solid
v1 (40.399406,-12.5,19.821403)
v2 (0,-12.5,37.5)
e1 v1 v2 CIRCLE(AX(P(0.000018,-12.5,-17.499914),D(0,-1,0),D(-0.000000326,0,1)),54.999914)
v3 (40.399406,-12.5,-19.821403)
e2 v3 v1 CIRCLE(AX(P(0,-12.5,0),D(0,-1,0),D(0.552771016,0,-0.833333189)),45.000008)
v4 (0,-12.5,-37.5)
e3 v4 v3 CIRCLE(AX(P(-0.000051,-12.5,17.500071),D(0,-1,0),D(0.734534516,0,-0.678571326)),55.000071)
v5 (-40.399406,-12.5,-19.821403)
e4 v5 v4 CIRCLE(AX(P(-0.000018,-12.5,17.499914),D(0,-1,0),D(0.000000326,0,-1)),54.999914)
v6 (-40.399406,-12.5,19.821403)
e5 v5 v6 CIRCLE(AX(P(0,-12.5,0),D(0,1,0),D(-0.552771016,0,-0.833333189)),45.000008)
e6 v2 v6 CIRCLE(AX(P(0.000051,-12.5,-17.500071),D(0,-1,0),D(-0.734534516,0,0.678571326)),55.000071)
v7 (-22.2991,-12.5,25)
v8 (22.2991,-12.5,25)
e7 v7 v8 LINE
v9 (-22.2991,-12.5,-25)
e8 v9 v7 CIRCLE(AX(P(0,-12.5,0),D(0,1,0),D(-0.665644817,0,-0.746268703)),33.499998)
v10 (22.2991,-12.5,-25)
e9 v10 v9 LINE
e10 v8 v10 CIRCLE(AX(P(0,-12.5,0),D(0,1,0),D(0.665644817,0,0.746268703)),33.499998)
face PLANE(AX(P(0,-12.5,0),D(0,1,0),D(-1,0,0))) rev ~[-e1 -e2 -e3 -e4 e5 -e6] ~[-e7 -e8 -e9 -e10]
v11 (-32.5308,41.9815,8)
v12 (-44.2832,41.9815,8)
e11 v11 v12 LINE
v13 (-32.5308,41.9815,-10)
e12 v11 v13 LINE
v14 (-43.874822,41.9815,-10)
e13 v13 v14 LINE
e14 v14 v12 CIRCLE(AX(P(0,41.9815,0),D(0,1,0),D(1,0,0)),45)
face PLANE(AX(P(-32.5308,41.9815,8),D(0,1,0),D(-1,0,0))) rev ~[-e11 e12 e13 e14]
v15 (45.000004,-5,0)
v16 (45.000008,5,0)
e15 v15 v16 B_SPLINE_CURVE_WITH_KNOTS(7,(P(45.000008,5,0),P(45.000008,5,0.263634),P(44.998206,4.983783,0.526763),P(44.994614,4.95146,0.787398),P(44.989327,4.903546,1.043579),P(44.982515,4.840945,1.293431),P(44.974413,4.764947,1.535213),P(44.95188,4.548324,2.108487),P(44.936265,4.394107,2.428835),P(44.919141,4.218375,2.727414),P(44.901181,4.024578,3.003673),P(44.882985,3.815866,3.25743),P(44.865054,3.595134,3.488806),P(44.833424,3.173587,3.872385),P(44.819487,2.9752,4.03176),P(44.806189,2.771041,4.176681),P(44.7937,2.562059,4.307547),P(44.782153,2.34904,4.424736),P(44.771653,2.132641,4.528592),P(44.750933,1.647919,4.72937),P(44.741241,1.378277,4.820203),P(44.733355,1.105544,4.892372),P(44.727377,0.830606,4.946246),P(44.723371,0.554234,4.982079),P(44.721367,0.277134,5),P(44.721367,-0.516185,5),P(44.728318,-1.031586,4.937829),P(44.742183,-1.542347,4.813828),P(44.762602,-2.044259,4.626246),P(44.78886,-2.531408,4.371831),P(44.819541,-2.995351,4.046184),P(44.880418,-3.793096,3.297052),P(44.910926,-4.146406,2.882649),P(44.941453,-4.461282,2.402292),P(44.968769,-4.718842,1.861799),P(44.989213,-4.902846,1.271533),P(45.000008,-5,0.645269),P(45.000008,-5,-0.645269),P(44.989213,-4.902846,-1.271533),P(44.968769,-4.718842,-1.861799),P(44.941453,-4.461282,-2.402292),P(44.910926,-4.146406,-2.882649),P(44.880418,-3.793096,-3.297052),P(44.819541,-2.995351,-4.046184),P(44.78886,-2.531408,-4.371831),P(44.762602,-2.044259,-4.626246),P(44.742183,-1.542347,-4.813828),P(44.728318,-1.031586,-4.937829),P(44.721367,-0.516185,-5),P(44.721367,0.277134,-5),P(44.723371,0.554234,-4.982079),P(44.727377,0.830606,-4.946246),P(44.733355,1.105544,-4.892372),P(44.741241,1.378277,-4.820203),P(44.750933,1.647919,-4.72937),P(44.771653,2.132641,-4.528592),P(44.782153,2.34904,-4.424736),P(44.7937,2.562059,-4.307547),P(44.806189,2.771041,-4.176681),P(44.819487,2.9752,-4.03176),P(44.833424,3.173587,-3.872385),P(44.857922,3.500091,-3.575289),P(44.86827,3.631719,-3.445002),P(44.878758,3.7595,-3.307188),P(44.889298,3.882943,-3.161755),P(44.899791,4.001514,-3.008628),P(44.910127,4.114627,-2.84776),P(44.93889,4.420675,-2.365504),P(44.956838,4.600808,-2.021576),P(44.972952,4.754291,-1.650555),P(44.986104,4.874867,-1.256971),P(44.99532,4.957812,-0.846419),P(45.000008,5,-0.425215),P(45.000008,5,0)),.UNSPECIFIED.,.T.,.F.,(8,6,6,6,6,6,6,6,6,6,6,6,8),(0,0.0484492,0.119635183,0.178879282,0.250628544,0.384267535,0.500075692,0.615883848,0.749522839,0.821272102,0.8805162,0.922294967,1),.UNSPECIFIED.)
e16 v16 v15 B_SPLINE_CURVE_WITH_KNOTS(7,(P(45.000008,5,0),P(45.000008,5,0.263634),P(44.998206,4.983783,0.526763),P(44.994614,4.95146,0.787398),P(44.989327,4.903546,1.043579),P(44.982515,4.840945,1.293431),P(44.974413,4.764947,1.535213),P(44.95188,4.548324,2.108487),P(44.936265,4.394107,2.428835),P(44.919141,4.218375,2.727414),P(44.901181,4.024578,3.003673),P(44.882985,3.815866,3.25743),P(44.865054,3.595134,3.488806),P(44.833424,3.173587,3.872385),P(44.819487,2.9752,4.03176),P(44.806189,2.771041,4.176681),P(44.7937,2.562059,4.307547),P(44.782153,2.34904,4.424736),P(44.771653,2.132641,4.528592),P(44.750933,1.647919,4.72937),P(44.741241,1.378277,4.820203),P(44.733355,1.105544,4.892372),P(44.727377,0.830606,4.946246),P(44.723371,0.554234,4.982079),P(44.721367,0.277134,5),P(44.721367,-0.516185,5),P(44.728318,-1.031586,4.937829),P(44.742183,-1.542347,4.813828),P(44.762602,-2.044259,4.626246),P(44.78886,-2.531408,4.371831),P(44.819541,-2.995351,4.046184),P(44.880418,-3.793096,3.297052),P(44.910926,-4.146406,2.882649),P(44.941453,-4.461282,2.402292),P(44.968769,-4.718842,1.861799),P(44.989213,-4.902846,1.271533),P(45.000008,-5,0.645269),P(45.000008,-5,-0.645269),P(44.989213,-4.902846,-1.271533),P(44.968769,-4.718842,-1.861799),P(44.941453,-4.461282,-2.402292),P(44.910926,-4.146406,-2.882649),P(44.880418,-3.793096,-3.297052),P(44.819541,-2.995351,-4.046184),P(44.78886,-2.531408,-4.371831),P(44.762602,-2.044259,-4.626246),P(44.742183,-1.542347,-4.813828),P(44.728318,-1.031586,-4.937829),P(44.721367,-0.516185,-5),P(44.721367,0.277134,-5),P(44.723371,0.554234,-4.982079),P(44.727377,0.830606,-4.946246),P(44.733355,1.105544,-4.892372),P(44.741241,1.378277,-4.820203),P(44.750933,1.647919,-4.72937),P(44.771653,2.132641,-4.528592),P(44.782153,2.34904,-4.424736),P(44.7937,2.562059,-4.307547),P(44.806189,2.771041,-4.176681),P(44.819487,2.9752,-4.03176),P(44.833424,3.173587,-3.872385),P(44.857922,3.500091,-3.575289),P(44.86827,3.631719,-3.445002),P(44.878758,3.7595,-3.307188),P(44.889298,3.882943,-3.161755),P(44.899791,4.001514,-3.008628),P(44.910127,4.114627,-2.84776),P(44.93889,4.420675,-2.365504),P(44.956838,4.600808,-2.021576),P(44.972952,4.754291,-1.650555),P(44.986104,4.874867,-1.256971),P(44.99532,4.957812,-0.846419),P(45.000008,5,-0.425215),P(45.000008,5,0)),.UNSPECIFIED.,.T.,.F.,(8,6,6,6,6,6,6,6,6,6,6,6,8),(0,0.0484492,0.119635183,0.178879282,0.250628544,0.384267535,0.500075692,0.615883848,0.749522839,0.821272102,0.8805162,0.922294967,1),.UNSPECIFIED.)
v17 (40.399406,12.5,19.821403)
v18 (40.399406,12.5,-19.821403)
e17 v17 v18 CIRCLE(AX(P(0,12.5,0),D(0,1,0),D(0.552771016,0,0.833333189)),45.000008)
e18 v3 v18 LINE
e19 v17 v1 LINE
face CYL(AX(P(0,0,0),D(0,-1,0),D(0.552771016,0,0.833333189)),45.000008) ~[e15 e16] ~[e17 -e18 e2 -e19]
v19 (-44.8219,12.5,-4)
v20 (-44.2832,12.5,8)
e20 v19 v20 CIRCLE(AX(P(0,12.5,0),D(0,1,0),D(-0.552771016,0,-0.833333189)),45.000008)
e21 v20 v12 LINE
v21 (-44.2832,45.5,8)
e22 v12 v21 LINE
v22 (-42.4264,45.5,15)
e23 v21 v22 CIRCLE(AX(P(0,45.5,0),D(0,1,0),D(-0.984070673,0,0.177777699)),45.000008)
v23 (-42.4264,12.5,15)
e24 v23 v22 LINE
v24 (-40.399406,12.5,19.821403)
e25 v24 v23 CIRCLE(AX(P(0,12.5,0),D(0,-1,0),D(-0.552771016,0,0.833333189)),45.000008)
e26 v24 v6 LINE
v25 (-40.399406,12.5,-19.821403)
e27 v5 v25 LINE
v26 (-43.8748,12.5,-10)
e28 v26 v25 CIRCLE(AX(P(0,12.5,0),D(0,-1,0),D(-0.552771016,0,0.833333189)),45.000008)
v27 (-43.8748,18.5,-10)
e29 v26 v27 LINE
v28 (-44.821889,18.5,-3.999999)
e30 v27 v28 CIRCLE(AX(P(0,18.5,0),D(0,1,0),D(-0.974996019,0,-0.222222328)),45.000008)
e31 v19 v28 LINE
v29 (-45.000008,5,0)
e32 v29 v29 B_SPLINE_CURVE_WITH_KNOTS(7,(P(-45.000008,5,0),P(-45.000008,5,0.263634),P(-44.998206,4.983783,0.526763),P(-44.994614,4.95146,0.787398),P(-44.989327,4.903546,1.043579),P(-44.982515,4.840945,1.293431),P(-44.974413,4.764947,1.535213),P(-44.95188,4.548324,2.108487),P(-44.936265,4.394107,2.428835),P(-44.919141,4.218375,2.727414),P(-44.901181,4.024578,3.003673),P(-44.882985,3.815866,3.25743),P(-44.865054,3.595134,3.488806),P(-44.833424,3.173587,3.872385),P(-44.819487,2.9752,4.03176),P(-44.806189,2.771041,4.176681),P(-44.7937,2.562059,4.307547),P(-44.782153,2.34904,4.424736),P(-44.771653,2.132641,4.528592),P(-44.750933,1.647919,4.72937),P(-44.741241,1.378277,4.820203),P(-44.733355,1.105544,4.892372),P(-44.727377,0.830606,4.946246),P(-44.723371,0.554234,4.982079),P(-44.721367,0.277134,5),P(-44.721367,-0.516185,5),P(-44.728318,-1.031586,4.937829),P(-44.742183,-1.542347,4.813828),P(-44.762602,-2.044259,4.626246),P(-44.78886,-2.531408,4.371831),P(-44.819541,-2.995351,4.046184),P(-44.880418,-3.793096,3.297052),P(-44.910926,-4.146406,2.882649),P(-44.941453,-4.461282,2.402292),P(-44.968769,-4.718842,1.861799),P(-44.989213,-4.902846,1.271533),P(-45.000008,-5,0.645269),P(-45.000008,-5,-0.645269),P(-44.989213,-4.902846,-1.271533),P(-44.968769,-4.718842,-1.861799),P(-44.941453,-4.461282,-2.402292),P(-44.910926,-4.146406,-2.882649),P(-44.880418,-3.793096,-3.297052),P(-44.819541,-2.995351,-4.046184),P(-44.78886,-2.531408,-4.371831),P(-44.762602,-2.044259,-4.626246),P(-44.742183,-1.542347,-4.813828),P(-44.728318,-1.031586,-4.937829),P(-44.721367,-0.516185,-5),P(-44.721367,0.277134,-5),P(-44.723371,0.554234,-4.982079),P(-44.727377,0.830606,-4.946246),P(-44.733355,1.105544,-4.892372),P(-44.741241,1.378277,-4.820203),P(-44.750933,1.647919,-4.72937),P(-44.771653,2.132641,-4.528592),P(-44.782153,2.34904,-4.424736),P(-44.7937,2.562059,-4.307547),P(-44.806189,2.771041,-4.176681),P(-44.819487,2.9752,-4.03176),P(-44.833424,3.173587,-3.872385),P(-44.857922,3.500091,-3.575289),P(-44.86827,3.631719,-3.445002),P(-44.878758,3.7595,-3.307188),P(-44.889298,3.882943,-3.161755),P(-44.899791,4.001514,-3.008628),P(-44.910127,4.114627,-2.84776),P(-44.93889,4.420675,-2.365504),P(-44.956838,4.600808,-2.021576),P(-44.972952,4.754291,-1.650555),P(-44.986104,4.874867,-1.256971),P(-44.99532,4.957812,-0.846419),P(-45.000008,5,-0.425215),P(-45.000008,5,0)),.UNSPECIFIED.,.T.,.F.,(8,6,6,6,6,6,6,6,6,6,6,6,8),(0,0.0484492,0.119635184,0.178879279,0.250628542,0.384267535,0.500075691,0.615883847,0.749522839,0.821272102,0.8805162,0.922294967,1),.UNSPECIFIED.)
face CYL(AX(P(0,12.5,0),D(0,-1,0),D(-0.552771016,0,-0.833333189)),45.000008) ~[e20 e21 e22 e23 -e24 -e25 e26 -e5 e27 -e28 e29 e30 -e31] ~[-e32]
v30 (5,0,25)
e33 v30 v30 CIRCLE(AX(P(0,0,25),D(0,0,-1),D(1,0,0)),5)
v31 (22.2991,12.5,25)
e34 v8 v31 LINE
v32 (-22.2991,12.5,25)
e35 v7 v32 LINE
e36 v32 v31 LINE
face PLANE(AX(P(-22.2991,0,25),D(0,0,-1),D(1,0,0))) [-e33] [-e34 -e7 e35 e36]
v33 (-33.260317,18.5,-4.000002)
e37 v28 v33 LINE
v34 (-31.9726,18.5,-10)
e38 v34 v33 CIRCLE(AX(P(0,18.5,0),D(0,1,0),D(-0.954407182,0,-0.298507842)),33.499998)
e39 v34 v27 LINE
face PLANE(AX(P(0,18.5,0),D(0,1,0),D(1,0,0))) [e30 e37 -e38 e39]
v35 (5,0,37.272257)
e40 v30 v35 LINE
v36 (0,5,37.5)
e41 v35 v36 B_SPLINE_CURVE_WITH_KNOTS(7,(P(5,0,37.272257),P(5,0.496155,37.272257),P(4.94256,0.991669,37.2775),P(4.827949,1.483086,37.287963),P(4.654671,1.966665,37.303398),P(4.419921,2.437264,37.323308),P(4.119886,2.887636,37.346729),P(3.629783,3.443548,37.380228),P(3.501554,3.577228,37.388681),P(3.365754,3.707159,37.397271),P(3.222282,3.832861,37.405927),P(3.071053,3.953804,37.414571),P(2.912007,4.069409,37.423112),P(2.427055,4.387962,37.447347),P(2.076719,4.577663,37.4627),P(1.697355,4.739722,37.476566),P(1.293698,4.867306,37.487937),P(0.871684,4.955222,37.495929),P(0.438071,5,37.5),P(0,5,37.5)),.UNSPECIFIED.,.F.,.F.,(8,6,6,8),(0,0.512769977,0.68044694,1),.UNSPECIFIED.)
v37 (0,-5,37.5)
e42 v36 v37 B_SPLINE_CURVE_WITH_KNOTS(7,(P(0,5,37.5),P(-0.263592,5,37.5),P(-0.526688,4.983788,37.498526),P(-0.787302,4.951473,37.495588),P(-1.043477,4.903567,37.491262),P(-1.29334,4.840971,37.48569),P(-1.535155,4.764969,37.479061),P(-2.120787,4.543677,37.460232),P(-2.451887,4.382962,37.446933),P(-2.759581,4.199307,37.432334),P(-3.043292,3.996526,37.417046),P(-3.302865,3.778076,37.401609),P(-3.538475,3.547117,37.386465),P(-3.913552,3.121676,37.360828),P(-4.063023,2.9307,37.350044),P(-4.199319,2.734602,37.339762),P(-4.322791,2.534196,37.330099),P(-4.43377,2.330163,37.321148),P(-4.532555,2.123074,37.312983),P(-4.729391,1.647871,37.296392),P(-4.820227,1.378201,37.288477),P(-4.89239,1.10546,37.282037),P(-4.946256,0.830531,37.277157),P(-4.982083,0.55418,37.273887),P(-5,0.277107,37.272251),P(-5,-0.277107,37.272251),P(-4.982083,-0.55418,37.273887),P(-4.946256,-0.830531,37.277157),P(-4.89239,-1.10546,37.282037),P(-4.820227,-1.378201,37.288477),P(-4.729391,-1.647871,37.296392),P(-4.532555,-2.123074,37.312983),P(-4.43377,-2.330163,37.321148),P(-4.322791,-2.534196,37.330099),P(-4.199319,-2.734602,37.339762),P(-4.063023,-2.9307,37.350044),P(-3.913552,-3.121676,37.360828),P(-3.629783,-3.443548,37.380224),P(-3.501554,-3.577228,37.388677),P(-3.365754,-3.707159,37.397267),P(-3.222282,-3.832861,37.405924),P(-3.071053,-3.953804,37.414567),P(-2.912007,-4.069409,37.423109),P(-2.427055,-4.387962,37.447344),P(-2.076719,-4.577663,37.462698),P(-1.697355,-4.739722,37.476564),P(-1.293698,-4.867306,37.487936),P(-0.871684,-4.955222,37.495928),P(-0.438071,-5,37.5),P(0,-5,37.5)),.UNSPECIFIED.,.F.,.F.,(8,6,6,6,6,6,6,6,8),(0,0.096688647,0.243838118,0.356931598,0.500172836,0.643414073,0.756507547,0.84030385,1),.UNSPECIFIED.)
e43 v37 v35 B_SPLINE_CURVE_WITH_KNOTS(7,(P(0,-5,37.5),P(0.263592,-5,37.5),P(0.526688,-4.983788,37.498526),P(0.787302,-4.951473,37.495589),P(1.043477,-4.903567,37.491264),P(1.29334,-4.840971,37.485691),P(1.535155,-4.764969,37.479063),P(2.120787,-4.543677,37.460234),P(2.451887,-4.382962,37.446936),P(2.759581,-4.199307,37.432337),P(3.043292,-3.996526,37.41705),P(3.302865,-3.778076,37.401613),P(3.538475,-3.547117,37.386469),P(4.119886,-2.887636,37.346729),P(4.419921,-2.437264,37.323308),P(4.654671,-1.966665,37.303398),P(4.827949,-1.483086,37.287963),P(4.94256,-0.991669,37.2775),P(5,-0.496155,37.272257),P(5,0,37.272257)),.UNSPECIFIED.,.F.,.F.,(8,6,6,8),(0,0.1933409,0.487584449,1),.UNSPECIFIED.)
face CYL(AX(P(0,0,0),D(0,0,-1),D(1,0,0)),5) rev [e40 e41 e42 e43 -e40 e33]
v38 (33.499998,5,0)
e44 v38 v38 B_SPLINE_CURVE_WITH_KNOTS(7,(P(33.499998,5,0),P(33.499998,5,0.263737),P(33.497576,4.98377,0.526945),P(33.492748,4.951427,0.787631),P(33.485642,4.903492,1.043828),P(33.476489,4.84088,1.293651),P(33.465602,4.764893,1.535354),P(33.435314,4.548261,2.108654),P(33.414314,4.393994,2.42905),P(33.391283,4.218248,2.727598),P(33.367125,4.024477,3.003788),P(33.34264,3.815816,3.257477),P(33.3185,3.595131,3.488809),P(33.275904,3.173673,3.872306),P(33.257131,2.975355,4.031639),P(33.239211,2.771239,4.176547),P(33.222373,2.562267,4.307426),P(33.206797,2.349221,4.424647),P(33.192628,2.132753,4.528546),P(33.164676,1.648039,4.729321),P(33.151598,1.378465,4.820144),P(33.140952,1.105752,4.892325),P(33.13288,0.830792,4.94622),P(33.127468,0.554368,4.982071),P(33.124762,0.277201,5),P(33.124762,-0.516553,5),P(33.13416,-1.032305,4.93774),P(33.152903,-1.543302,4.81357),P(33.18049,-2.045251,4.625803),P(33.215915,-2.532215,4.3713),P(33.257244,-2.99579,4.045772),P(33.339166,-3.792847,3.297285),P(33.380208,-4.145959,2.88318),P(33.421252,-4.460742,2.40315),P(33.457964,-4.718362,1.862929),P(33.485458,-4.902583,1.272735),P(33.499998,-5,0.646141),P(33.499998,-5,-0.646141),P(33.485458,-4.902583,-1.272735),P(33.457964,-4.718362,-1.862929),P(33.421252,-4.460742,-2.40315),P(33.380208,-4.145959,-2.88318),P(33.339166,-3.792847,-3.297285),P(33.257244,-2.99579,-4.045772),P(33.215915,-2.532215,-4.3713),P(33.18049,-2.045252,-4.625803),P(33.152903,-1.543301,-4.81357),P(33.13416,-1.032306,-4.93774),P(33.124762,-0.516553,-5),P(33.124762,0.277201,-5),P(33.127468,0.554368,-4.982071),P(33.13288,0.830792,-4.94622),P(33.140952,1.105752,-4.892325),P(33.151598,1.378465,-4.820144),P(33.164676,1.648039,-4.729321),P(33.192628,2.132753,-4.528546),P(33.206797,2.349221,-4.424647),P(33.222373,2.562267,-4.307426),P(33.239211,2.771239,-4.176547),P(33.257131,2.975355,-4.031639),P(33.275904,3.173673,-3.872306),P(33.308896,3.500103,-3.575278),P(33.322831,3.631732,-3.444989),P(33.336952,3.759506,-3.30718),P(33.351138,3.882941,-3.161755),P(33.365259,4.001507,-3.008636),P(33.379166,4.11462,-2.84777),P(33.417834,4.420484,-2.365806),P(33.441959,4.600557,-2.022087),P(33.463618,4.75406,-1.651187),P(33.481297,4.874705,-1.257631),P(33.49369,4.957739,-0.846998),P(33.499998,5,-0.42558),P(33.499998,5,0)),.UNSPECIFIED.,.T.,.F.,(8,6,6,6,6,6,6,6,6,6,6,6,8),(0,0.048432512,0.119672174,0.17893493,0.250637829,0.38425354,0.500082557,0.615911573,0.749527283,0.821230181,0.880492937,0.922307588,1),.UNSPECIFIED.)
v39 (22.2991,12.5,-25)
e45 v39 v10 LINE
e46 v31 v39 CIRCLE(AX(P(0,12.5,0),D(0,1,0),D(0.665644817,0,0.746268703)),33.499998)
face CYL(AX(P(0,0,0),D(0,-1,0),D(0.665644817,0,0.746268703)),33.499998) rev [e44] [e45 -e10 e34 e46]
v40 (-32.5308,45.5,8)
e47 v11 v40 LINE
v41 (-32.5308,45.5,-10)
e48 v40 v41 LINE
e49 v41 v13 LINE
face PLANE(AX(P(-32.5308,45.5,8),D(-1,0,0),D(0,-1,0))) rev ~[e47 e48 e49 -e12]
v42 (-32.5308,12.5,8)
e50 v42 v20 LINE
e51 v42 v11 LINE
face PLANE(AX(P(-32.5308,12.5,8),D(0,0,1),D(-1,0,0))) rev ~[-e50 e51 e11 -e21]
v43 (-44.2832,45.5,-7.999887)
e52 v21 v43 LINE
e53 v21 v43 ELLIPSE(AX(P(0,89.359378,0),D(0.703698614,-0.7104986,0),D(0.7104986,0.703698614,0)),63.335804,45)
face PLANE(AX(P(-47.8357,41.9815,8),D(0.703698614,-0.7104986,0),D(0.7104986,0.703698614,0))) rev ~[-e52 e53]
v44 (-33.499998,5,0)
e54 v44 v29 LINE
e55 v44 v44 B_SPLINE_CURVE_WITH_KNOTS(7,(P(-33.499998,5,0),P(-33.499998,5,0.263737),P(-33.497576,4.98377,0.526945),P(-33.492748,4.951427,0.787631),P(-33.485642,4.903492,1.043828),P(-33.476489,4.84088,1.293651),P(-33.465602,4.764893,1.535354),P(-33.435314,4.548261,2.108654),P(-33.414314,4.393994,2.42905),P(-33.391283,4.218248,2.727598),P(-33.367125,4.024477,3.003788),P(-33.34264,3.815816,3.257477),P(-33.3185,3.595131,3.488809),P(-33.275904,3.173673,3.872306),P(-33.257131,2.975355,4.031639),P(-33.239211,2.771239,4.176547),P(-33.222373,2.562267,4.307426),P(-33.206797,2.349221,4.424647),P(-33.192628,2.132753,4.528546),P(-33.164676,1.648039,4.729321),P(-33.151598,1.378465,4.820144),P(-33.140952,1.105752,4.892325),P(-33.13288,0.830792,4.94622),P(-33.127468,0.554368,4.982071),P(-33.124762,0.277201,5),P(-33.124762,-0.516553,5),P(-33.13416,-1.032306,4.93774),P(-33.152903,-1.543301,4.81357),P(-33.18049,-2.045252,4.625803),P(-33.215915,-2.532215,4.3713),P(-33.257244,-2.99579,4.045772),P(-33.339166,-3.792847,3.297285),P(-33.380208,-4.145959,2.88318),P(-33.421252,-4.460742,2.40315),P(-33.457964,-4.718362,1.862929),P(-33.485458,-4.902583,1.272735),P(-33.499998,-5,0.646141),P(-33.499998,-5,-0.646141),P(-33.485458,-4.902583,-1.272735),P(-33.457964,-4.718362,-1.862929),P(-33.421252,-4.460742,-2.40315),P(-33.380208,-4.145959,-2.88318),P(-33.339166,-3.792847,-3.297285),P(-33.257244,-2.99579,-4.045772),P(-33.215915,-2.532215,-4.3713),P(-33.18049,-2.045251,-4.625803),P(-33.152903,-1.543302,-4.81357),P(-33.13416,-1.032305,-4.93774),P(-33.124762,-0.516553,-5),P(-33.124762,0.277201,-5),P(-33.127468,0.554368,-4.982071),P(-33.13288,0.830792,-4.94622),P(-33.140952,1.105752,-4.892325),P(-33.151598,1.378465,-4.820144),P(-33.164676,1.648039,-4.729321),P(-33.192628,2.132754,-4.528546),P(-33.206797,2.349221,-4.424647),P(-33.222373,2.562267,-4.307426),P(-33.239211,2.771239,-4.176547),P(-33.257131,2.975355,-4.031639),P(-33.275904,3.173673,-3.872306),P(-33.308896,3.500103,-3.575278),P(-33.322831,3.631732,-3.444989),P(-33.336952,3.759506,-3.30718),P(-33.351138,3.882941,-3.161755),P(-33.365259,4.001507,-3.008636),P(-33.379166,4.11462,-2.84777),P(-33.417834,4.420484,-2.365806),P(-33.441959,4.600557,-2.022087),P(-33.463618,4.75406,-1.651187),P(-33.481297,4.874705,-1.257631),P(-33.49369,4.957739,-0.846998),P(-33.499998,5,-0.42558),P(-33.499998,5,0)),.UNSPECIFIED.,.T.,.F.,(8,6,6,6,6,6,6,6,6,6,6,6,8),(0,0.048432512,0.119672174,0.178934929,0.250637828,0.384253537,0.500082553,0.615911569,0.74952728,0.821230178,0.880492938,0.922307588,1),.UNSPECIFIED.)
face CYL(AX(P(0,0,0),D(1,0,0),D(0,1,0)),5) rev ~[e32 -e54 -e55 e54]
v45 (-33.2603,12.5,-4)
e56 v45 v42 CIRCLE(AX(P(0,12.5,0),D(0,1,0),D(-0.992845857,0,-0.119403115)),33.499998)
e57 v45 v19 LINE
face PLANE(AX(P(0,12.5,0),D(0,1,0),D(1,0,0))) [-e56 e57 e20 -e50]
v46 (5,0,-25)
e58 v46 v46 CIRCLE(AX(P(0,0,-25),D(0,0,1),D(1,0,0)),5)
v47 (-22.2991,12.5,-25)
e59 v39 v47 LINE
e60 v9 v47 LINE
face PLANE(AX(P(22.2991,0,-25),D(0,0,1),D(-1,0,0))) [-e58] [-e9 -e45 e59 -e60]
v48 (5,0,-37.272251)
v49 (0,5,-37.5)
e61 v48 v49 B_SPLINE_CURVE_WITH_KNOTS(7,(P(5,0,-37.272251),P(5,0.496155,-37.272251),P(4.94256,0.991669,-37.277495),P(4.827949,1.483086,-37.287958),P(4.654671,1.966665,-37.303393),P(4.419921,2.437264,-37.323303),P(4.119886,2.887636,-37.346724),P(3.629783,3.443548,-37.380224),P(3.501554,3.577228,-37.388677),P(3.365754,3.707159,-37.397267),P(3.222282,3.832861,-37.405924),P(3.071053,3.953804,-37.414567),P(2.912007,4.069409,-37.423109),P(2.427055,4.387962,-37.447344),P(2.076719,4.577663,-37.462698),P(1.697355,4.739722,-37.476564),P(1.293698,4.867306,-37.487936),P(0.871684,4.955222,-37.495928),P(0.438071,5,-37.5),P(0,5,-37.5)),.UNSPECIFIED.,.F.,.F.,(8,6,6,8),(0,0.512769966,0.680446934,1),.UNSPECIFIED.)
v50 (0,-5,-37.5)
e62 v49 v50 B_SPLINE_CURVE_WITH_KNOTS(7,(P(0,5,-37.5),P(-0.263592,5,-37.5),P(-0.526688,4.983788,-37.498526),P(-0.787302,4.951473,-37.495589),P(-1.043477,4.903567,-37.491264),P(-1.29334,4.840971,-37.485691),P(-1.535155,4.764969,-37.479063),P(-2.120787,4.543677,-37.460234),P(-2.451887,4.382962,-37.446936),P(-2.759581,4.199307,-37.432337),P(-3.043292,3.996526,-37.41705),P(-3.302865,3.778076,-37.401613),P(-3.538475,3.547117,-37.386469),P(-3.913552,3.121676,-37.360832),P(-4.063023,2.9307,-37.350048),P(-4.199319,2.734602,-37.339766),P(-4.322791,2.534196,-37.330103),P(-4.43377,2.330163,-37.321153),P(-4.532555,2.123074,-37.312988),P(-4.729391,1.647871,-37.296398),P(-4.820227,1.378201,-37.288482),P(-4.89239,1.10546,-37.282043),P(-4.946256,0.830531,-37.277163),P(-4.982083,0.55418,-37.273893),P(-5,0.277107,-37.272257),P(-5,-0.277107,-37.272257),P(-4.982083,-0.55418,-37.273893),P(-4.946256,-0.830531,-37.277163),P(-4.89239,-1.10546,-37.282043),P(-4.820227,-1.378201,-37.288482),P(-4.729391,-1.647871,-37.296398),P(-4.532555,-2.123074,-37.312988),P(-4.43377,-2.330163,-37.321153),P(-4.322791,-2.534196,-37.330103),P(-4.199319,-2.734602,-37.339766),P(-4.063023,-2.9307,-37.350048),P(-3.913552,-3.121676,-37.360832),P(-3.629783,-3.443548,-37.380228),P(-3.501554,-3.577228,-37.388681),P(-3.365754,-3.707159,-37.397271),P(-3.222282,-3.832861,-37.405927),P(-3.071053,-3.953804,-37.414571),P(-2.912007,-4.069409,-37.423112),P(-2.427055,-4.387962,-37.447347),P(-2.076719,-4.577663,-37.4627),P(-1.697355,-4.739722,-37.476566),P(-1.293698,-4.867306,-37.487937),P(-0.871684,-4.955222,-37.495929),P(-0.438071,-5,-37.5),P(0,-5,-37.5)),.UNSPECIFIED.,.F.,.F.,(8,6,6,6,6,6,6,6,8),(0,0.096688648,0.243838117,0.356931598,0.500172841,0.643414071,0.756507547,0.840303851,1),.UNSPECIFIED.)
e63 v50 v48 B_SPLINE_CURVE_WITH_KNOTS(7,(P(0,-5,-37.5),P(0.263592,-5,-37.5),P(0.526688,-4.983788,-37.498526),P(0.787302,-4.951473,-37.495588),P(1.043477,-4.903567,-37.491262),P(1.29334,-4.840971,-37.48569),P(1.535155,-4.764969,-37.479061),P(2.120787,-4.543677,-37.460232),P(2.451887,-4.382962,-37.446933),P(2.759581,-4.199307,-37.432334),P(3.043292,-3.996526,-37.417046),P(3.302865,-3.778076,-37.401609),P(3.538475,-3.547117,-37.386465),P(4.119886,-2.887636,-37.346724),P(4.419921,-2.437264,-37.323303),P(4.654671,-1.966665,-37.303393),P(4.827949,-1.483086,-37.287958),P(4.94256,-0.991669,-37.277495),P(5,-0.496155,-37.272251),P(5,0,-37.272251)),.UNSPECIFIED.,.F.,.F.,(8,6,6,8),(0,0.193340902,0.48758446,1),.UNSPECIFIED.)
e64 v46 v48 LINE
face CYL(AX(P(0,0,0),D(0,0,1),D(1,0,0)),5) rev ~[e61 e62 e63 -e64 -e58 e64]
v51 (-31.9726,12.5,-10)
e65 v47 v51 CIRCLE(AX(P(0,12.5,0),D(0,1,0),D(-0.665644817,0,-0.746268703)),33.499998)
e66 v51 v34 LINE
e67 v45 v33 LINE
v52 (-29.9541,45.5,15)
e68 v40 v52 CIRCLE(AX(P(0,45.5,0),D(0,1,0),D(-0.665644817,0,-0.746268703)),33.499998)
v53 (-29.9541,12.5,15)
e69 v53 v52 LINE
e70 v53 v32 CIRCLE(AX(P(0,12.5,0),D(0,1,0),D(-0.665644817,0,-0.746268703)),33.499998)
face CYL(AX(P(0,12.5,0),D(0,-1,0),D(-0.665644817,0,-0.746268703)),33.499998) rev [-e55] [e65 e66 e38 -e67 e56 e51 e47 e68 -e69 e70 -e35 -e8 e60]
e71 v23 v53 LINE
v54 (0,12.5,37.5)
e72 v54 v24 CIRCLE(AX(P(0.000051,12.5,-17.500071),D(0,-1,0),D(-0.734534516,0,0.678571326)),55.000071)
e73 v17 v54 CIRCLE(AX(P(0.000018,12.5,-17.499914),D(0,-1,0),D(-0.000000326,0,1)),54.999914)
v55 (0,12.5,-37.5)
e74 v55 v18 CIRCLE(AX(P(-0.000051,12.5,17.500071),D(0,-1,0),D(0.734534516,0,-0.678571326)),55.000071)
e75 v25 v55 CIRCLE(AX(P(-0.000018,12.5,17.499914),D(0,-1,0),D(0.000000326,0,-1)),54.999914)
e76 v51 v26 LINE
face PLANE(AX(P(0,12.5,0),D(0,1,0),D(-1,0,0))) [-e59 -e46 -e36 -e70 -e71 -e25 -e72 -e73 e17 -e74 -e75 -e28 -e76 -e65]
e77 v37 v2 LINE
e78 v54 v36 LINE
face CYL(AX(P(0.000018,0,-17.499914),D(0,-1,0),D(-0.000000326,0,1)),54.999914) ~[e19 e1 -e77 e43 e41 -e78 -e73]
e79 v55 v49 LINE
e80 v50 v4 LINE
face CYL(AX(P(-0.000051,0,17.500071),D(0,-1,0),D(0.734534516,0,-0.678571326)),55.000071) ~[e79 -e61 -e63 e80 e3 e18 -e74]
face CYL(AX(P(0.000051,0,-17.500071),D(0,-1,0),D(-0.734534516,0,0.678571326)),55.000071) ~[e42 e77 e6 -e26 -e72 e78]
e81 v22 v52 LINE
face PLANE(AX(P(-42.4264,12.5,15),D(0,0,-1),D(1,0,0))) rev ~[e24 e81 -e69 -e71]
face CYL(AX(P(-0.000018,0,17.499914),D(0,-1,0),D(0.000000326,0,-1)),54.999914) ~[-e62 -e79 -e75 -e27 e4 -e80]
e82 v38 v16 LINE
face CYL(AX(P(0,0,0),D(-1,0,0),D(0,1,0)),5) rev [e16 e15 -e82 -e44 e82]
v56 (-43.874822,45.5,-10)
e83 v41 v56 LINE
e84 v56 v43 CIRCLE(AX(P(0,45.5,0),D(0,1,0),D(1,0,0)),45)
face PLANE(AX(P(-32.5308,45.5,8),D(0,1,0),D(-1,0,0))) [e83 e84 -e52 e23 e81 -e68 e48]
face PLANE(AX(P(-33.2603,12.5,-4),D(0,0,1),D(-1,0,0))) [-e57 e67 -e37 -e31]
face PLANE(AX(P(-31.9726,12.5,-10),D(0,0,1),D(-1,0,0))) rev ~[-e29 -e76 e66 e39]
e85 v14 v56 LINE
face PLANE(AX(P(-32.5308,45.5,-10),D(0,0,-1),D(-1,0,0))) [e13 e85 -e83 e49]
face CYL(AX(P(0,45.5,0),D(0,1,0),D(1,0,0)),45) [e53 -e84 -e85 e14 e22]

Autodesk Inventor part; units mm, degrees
ref_plane "YZ Plane" through (0, 0, 0) normal (1, 0, 0) x (0, 1, 0)
ref_plane "XZ Plane" through (0, 0, 0) normal (0, 1, 0) x (-1, 0, 0)
ref_plane "XY Plane" through (0, 0, 0) normal (0, 0, 1) x (1, 0, 0)
sketch "Sketch1" plane through (0, 0, 0) normal (0, 1, 0) x (-1, 0, 0)
  line L0 (-22.2991, -25) -> (22.2991, -25)
  line L1 (22.2991, 25) -> (-22.2991, 25)
  arc A0 (-22.2991, 25) -> (-22.2991, -25) centre (0, 0) ccw
  arc A1 (22.2991, -25) -> (22.2991, 25) centre (0, 0) ccw
  line L2 (24.8747, 37.5) -> (-24.8747, 37.5)
  line L3 (24.8747, -37.5) -> (-24.8747, -37.5)
  arc A2 (24.8747, -37.5) -> (24.8747, 37.5) centre (0, 0) ccw
  arc A3 (-24.8747, 37.5) -> (-24.8747, -37.5) centre (0, 0) ccw
  circle A4 centre (0, 0) radius 25 construction
  arc A5 (0, 37.5) -> (-40.3994, 19.8214) centre (0, -17.5) ccw
  arc A6 (40.3994, 19.8214) -> (0, 37.5) centre (0, -17.5) ccw
  arc A7 (-40.3994, -19.8214) -> (0, -37.5) centre (0, 17.5) ccw
  arc A8 (0, -37.5) -> (40.3994, -19.8214) centre (0, 17.5) ccw
  point P0 (-40.0764, 20.168)
  point P1 (-40.0764, -20.168)
  point P2 (40.0764, 20.168)
  point P3 (40.0764, -20.168)
  dimension "d2" = 50
  dimension "d3" = 33.5
  dimension "d4" = 33.5
  dimension "d5" = 44.5982
  dimension "d7" = 12.5
  dimension "d8" = 12.5
  dimension "d54" = 45
  dimension "d55" = 45
  dimension "d60" = 55
  dimension "d61" = 55
  dimension "d62" = 55
  dimension "d63" = 55
extrude "Extrusion1" add sketch "Sketch1" along normal mid plane 25
sketch "Sketch3" plane through (0, 0, 0) normal (0, 0, 1) x (1, 0, 0)
  circle A0 centre (0, 0) radius 5
  dimension "d13" = 10
extrude "Extrusion2" cut sketch "Sketch3" along normal through all both and the other way through all
sketch "Sketch5" plane through (0, 0, 0) normal (1, 0, 0) x (0, 1, 0)
  circle A0 centre (0, 0) radius 5
  dimension "d17" = 10
extrude "Extrusion3" cut sketch "Sketch5" along normal through all both and the other way through all
sketch "Sketch6" plane through (0, 12.5, 0) normal (0, 1, 0) x (1, 0, 0)
  circle A0 centre (0, 0) radius 25 construction
  arc A1 (-22.2991, 25) -> (-22.2991, -25) centre (0, 0) ccw projected
  line L0 (-33.5, 0) -> (-47.5, 0) construction
  line L1 (-42.4264, -15) -> (-29.9541, -15)
  line L2 (-31.9726, 10) -> (-43.8748, 10)
  arc A2 (-24.8747, 37.5) -> (-24.8747, -37.5) centre (0, 0) ccw projected
  arc A3 (-43.8748, 10) -> (-43.9189, 9.8046) centre (0, 0) ccw
  line L3 (-32.5308, -8) -> (-44.2832, -8)
  arc A4 (-33.5, 0) -> (-29.9541, -15) centre (0, 0) ccw
  arc A5 (-43.9204, -9.798) -> (-42.4264, -15) centre (0, 0) ccw
  arc A6 (-43.8748, 10) -> (-43.9204, -9.798) centre (0, 0) ccw
  arc A7 (-31.9726, 10) -> (-33.5, 0) centre (0, 0) ccw
  line L4 (-44.7214, 5) -> (-33.1248, 5) projected
  arc A8 (-22.2991, 25) -> (-22.2991, -25) centre (0, 0) ccw projected
  line L5 (-33.2603, 4) -> (-44.8219, 4)
  point P0 (-44.2832, -8)
  point P1 (-44.8219, 4)
  dimension "d25" = 50
  dimension "d26" = 25
  dimension "d27" = 7
  dimension "d28" = 15
  dimension "d29" = 15
  dimension "d30" = 24.8046
  dimension "d31" = 5.202
  dimension "d32" = 47.5
  dimension "d37" = 6
extrude "Extrusion4" add sketch "Sketch6" along normal blind 6 contours A1 L4 A2 L2 | A1 L5 A2 L4 | A1 L3 A2 L5
extrude "Extrusion5" add sketch "Sketch6" along normal blind 33 contours A1 L1 A2 L3
extrude "Extrusion6" cut sketch "Sketch6" along normal through all contours A1 L3 A2 L5
sketch "Sketch7" plane through (-32.5308, 45.5, 8) normal (0, 0, -1) x (-1, 0, 0)
  line L0 (0, 0) -> (11.7524, 0) projected
  line L1 (-2.5766, -33) -> (-2.5766, 0) projected
  line L2 (11.7524, 0) -> (0, 0)
  line L3 (0, -3.5185) -> (15.3049, -3.5185)
  line L4 (15.3049, -3.5185) -> (11.7524, 0)
  line L5 (0, 0) -> (0, -3.5185)
  line L6 (0, -33) -> (0, 0) projected
  point P0 (-32.5308, -45.5)
  dimension "d40" = 5
  dimension "d41" = 15.3049
extrude "Extrusion7" add sketch "Sketch7" along normal up to surface (18 mm away)
sketch "Sketch8" plane through (0, 45.5, 0) normal (0, 1, 0) x (1, 0, 0)
  circle A0 centre (0, 0) radius 45
  circle A1 centre (0, 0) radius 62.5
  dimension "d56" = 90
  dimension "d57" = 125
extrude "Extrusion8" cut sketch "Sketch8" against normal through all
extrude "Extrusion9" cut sketch "Sketch1" along normal through all both and the other way through all contours A2 A6 L2 | A5 A3 L2 | A2 L3 A8 | A7 L3 A3
